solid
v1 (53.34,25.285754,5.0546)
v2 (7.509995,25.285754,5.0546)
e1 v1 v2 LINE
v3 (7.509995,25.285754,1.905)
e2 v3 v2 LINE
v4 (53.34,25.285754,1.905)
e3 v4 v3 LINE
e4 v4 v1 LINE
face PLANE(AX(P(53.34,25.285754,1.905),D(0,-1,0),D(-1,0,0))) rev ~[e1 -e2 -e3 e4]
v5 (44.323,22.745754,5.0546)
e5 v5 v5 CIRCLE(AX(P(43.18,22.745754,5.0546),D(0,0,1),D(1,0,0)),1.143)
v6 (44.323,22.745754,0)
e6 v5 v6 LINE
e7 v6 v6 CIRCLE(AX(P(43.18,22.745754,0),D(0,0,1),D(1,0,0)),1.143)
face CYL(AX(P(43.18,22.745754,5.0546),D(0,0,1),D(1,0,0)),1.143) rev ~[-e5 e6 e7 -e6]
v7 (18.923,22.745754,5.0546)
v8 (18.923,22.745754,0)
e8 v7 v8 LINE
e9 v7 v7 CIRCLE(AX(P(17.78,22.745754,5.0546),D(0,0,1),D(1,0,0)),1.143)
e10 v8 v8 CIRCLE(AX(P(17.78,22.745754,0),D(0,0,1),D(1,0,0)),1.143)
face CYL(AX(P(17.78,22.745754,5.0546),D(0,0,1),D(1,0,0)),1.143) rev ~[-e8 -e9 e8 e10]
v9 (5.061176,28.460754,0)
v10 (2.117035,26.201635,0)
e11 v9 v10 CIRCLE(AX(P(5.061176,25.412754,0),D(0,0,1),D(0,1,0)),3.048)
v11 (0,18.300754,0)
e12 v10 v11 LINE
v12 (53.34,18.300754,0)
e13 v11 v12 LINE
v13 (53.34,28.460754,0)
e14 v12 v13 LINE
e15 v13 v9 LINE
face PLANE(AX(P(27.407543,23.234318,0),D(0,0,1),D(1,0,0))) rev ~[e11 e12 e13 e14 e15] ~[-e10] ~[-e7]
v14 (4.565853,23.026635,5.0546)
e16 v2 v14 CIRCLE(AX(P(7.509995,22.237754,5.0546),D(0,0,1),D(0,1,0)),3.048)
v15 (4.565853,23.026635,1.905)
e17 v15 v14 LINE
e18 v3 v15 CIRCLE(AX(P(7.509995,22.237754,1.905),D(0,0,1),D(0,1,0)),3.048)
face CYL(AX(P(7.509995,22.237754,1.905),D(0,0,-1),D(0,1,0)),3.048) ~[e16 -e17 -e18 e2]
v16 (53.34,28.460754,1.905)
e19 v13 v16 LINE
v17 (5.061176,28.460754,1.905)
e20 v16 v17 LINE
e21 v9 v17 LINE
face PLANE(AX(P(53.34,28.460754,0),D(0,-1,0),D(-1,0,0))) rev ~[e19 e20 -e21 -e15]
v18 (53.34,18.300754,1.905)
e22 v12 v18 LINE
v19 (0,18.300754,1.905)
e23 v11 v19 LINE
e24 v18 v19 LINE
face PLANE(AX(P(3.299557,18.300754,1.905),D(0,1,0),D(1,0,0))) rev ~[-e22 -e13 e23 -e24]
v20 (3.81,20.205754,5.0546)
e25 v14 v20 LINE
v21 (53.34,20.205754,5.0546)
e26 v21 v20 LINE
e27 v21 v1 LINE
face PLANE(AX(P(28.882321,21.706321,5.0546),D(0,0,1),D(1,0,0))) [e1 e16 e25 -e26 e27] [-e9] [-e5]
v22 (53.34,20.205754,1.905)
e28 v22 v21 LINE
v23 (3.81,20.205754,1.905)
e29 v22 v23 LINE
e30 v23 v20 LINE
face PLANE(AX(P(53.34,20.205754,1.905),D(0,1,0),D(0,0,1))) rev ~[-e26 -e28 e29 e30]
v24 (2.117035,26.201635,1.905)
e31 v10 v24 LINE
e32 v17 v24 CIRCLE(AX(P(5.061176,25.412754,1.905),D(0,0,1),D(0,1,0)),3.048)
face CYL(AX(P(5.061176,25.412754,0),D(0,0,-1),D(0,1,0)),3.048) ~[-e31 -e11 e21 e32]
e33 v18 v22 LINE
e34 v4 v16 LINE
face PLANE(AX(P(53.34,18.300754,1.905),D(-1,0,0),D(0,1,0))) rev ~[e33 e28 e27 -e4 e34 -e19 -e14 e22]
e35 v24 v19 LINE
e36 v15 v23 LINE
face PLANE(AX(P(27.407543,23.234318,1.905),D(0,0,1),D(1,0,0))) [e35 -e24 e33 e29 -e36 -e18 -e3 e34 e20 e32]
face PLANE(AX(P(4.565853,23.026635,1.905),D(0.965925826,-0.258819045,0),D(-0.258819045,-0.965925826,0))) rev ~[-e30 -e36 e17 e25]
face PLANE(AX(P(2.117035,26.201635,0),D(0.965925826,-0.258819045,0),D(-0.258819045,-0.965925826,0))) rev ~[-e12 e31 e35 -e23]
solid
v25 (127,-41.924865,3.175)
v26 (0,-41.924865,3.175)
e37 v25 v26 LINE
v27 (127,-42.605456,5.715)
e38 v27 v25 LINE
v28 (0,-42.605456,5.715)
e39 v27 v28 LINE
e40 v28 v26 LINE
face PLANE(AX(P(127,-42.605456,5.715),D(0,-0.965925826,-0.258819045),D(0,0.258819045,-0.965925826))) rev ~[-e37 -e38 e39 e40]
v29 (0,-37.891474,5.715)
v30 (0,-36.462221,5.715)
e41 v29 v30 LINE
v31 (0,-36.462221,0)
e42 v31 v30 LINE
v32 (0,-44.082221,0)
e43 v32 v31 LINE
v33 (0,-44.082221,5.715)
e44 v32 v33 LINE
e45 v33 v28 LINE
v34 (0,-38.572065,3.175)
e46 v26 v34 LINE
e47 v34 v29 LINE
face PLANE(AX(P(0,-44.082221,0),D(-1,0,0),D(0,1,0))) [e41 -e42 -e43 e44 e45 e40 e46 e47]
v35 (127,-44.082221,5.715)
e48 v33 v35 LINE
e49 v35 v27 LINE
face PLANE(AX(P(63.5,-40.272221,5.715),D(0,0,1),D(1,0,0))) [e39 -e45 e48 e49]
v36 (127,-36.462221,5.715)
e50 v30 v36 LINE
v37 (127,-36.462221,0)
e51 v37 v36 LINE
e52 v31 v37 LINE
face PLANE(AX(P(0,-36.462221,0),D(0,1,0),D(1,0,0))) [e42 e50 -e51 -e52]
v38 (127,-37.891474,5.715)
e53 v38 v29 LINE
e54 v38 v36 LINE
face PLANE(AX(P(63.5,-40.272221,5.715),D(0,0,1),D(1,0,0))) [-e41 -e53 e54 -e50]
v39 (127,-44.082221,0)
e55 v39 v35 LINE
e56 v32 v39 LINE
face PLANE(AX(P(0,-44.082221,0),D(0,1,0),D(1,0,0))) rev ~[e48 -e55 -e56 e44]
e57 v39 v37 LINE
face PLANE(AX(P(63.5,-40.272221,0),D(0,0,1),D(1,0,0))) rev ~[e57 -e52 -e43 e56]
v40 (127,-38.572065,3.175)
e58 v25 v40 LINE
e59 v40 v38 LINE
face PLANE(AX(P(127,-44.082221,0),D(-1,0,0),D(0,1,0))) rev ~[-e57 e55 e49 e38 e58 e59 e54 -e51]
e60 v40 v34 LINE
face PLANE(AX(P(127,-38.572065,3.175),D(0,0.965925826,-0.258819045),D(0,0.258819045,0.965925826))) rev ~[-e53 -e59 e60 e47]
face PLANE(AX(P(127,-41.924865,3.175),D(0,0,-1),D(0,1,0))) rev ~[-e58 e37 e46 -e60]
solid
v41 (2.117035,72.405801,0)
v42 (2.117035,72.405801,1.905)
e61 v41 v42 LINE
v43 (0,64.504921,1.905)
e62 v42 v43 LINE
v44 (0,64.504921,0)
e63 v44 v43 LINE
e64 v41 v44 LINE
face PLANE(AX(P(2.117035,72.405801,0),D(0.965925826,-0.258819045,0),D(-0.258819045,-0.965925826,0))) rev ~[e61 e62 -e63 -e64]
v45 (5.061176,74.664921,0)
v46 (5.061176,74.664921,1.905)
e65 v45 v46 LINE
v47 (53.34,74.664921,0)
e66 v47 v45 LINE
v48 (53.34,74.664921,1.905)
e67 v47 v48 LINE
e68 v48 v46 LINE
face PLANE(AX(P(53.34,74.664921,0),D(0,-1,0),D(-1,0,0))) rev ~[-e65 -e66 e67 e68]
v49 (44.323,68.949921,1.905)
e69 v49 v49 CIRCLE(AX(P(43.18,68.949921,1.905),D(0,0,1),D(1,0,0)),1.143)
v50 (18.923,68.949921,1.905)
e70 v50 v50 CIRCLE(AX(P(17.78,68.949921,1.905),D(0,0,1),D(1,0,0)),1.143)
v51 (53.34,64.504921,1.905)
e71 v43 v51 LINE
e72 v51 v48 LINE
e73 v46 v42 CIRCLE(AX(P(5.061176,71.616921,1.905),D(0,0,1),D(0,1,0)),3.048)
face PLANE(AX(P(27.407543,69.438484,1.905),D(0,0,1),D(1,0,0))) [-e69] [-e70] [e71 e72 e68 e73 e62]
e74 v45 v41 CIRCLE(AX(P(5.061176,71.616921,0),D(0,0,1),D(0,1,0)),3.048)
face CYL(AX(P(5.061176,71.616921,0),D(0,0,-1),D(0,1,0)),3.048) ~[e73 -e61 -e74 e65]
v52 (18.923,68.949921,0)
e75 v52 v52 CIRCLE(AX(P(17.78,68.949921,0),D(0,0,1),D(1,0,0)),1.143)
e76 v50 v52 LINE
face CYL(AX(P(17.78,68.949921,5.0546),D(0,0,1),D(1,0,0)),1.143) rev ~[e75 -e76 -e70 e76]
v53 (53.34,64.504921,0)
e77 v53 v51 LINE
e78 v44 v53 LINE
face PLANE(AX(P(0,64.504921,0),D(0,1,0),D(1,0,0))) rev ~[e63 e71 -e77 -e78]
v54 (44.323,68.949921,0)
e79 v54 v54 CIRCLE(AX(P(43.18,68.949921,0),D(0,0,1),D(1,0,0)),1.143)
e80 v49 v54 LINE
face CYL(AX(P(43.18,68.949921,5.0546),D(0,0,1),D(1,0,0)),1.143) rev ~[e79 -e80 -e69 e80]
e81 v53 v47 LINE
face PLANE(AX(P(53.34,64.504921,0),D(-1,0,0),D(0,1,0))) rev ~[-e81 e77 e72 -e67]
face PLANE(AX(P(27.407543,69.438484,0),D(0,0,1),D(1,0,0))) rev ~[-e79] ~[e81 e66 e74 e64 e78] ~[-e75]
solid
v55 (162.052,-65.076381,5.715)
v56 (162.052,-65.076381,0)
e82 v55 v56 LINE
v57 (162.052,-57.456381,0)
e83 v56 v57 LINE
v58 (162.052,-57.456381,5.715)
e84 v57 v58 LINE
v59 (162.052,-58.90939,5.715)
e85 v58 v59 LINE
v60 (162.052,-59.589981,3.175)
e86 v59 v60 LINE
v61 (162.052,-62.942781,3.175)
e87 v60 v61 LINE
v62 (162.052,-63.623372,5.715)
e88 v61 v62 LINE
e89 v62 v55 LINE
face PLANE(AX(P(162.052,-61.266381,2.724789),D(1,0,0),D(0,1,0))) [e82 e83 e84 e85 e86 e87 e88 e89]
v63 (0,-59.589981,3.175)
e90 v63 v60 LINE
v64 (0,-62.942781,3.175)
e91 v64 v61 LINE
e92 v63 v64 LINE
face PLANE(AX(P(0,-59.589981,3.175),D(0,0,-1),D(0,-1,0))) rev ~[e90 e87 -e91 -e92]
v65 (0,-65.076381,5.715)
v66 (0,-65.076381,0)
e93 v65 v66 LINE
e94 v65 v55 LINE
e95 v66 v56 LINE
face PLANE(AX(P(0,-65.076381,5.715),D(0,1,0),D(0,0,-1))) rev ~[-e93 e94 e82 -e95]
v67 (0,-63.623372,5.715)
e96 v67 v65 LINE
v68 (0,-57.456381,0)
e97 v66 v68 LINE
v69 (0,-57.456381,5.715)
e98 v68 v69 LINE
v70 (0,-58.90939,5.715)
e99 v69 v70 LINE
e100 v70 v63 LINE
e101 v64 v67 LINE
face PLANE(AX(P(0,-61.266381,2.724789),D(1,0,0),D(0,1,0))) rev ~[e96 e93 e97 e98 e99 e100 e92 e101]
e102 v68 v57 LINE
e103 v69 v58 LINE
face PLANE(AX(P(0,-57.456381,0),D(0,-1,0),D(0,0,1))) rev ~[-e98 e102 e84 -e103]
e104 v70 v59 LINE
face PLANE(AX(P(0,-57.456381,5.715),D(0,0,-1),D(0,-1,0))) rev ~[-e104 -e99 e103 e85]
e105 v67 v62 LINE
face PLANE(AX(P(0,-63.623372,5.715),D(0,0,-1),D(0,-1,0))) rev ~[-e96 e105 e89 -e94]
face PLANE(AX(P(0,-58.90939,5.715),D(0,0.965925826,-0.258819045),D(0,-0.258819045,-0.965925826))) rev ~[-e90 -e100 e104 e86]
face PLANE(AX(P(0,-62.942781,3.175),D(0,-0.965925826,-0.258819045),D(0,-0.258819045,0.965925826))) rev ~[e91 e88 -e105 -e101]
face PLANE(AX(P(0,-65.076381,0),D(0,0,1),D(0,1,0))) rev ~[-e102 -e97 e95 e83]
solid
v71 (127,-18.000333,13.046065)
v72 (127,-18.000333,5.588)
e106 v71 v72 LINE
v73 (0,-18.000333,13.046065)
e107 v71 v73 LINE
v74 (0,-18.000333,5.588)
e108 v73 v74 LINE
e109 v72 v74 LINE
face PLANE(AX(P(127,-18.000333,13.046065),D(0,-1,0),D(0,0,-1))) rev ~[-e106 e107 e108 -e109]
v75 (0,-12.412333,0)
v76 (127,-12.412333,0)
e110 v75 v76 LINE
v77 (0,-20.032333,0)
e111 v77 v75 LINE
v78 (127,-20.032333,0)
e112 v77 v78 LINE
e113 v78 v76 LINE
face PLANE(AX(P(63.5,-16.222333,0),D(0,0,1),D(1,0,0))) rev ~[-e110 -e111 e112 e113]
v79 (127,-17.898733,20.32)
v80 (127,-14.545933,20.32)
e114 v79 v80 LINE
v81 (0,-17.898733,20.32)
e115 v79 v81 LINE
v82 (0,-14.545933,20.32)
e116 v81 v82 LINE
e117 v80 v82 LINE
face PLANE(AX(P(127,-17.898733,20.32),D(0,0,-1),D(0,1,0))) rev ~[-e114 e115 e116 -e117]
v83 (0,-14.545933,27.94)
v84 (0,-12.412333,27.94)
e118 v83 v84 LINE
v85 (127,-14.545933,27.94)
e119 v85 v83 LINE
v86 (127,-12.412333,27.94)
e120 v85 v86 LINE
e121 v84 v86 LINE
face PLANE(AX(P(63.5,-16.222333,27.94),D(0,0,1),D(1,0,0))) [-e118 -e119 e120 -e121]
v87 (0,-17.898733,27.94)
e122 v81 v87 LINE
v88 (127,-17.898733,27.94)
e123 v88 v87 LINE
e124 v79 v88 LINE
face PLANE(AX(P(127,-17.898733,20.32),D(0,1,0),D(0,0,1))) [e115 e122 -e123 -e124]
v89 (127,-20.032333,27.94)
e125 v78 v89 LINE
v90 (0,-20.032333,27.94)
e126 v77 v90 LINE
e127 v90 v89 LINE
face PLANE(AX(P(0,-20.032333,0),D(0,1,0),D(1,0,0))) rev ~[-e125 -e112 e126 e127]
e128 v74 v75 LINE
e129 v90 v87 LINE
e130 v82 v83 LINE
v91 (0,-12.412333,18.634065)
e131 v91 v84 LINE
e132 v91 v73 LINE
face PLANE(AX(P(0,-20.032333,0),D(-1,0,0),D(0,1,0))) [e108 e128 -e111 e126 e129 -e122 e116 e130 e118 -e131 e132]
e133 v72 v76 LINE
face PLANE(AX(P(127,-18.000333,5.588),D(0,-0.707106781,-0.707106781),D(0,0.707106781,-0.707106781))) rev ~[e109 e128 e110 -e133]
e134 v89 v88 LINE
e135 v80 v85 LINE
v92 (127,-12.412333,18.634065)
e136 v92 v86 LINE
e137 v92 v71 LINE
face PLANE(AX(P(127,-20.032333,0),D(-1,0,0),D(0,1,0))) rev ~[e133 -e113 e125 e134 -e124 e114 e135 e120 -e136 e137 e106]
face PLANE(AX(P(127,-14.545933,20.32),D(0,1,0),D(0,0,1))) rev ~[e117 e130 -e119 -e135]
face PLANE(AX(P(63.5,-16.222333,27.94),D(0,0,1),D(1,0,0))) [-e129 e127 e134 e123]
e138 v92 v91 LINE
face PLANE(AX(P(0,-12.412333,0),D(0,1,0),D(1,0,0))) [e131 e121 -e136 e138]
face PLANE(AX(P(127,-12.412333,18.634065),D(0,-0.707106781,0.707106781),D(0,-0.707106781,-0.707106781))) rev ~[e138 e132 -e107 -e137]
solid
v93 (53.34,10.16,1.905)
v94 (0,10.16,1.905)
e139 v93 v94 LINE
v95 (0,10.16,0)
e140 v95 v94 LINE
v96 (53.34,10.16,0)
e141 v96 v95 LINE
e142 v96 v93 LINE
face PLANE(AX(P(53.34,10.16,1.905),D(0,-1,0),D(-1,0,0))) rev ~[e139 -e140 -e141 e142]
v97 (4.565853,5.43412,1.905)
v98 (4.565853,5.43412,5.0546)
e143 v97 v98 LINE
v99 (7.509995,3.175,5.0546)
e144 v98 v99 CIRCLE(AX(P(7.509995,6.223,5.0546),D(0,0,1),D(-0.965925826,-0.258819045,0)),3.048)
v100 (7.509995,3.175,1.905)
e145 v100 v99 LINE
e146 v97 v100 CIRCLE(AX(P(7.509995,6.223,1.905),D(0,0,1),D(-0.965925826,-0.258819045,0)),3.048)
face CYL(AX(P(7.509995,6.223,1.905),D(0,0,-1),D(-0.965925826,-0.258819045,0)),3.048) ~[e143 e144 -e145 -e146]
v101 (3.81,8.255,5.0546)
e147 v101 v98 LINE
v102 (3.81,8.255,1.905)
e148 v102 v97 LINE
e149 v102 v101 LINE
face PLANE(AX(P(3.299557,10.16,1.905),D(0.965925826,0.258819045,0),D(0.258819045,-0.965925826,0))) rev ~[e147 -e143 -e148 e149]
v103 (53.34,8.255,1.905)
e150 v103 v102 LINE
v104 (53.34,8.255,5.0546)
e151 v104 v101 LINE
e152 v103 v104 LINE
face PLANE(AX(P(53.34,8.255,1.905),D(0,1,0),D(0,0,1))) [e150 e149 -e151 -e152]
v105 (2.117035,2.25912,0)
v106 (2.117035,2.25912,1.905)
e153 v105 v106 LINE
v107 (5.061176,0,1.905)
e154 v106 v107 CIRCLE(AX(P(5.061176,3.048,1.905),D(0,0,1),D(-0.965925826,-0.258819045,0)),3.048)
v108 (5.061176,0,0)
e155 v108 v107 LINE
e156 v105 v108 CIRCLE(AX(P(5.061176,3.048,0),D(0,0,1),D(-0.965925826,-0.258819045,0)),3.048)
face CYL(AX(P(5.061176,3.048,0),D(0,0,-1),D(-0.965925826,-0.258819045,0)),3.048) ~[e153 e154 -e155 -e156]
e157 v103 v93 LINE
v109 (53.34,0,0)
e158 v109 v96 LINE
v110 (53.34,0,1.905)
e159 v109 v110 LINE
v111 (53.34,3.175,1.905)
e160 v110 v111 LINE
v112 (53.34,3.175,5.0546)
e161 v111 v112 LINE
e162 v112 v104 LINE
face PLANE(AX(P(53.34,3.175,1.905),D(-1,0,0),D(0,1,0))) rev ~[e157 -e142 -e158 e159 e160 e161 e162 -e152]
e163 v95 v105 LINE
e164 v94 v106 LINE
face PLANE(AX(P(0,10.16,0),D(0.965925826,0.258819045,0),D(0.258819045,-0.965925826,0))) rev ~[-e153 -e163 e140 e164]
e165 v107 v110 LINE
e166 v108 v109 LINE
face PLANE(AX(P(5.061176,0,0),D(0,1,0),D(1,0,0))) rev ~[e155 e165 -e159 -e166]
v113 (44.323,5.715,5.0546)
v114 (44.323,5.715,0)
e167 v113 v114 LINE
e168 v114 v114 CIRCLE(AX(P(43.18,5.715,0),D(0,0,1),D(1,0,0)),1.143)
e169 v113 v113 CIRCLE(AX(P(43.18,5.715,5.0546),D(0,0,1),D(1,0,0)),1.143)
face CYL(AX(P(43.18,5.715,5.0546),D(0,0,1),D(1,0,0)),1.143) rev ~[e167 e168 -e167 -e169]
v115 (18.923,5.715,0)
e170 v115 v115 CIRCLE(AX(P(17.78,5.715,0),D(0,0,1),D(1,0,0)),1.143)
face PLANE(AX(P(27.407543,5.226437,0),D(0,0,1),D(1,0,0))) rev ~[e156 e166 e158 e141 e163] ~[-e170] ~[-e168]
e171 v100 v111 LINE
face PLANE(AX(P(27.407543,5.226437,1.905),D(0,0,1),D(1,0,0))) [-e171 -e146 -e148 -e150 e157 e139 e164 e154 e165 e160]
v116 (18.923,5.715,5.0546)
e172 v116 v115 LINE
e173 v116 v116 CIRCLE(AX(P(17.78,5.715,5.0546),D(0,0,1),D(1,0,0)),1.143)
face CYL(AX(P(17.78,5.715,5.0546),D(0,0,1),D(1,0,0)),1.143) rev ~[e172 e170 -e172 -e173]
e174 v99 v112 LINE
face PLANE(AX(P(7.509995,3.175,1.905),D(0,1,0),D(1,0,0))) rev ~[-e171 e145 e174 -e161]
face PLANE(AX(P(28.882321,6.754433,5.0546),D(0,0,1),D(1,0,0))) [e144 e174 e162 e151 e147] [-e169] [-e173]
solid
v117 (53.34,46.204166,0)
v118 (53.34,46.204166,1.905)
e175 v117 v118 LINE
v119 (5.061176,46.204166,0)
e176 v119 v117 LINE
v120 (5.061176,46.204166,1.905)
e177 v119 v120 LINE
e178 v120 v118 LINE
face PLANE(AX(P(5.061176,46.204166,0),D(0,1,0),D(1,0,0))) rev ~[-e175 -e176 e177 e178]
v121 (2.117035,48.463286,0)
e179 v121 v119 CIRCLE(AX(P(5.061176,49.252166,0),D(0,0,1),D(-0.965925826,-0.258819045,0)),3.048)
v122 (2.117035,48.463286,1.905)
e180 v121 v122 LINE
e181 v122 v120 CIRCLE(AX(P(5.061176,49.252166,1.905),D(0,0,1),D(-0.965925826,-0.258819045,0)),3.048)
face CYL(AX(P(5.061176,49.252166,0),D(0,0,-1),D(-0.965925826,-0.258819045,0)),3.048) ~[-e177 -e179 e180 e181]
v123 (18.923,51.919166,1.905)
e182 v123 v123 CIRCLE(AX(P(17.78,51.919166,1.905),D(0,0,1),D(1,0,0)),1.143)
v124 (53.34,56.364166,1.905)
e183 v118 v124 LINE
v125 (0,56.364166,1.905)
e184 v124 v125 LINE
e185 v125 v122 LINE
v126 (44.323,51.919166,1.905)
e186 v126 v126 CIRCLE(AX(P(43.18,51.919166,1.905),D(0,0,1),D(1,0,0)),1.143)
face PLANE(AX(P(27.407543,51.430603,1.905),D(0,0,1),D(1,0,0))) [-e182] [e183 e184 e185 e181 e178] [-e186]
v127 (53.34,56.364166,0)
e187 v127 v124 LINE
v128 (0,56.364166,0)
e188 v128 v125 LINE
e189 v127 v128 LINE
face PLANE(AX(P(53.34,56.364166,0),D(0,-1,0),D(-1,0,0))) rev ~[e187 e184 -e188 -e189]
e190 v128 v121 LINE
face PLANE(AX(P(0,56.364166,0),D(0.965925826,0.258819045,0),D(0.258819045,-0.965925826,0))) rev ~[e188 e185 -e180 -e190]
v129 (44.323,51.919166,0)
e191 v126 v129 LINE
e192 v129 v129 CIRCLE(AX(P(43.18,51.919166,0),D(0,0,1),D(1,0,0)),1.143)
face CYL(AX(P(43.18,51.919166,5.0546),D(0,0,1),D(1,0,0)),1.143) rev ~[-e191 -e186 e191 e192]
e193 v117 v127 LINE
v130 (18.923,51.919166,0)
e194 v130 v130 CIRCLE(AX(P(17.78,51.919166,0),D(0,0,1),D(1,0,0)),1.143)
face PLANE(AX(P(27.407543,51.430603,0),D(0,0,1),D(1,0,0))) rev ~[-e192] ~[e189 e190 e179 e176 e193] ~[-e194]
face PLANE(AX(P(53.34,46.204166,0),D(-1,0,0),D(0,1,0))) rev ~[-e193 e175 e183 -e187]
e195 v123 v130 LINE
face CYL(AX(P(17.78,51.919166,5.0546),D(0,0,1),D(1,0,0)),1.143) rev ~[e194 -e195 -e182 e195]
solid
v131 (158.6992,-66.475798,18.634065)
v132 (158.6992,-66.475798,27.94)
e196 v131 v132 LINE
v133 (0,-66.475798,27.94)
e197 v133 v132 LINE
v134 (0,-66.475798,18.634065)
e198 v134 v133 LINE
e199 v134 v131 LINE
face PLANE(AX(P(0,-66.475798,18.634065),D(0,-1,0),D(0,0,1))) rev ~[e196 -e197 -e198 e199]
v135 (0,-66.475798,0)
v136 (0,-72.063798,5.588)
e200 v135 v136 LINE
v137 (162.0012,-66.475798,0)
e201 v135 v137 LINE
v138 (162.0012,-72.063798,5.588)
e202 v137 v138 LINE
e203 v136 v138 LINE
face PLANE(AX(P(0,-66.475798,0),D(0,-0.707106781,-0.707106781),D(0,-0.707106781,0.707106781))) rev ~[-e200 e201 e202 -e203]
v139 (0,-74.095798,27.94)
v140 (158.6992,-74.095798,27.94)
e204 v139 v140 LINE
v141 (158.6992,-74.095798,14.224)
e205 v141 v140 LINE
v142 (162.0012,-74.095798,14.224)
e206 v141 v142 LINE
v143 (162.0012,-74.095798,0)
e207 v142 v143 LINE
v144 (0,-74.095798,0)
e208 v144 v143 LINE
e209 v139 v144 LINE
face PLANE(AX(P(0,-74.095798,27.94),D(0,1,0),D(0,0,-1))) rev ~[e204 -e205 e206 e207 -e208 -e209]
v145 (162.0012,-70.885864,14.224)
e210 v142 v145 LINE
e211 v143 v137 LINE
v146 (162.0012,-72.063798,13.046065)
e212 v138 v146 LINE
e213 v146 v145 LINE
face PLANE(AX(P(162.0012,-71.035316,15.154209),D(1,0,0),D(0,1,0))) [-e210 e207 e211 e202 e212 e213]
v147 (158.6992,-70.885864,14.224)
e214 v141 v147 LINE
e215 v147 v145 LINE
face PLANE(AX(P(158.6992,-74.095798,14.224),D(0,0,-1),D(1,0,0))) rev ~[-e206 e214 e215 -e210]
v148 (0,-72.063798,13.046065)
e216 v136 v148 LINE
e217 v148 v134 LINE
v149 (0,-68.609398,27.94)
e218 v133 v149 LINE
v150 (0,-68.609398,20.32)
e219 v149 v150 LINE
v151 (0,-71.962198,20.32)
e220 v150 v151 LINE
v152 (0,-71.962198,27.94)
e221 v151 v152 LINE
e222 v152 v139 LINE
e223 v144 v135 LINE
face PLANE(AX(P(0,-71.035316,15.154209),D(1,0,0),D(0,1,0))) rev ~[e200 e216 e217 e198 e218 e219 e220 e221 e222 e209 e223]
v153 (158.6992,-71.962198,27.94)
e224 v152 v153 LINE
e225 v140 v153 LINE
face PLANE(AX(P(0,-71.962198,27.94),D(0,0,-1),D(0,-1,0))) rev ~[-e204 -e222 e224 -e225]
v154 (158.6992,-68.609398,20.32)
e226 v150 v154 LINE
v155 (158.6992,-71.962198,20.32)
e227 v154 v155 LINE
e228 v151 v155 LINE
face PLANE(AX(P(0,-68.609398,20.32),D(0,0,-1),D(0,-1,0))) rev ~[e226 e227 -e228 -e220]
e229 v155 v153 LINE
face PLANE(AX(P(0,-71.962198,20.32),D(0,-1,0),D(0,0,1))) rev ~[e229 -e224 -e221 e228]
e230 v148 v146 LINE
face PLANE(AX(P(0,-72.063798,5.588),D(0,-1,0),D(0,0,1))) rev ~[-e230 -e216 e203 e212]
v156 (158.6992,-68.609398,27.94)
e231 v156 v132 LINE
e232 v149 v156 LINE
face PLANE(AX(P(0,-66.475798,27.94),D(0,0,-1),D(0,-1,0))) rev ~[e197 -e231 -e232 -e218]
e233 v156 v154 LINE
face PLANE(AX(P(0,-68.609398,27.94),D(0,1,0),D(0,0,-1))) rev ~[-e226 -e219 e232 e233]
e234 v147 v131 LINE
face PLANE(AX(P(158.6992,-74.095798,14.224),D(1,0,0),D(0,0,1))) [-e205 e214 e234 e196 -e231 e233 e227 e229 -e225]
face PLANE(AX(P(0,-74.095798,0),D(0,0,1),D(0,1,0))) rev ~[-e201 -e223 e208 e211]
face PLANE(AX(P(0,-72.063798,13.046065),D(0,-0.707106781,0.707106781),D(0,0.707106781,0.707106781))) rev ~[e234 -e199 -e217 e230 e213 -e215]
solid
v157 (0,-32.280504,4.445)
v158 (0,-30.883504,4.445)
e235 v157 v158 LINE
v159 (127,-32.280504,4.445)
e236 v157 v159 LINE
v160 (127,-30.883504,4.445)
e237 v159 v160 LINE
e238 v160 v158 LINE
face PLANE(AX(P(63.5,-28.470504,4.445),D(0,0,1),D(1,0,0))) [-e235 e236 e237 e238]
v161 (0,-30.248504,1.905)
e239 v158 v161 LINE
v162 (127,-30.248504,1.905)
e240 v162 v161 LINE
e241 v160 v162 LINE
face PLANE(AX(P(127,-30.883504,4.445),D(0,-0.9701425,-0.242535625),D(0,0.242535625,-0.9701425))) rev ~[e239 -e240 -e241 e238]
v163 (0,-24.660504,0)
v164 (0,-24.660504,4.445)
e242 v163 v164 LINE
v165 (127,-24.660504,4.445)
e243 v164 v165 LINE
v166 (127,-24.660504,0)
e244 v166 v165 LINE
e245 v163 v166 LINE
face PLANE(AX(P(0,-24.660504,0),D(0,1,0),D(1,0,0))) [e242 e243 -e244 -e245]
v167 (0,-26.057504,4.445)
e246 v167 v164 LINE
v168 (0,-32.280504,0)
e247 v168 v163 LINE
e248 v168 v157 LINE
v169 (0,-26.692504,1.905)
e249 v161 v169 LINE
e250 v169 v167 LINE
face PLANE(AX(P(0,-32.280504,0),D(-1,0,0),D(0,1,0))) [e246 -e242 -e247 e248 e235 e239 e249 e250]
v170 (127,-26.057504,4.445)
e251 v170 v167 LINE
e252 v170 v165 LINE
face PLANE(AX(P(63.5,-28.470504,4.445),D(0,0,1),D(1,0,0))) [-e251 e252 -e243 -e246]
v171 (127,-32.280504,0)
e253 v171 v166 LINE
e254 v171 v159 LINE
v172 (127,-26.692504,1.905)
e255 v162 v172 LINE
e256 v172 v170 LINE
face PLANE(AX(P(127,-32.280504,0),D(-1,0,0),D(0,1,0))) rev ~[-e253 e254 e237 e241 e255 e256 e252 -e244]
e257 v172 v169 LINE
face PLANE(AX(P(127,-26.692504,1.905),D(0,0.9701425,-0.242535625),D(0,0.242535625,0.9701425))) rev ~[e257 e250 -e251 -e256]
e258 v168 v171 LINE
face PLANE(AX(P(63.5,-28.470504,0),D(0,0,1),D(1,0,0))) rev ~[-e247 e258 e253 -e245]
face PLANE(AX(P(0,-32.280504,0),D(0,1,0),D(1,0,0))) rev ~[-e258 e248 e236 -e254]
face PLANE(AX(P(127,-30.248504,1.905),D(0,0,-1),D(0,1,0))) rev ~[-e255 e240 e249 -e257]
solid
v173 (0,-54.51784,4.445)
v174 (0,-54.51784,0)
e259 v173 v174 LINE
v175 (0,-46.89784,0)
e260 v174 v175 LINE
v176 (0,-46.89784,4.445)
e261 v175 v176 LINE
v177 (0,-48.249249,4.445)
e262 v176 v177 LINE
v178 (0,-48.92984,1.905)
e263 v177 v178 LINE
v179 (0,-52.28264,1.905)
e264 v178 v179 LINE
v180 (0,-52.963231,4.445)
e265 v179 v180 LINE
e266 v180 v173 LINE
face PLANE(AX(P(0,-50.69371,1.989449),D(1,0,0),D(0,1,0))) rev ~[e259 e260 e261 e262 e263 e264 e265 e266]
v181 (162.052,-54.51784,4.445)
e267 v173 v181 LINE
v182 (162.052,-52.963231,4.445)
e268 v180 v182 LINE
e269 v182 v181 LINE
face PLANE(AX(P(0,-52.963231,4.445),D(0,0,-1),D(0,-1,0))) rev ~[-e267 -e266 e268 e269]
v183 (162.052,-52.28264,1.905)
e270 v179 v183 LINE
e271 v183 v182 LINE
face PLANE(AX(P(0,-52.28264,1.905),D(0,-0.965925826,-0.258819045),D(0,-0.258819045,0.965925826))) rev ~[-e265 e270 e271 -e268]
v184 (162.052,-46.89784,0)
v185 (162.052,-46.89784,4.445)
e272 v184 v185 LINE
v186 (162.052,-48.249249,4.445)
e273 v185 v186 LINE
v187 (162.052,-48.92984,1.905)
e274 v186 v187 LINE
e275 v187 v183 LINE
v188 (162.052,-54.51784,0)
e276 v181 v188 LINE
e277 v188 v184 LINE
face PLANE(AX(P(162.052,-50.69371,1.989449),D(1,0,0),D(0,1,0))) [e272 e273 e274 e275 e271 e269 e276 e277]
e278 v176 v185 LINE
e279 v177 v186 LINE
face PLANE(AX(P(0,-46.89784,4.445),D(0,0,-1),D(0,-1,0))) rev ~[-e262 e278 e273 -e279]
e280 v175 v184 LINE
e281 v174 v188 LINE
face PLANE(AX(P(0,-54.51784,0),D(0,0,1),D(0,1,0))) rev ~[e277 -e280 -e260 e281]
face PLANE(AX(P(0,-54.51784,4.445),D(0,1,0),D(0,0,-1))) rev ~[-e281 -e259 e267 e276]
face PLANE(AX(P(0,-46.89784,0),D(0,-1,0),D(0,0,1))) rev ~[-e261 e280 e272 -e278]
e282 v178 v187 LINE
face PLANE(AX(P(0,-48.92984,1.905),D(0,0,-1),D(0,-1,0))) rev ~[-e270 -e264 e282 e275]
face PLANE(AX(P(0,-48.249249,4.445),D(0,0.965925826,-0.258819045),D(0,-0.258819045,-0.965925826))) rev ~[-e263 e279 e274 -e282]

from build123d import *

# Parameters (mm, degrees)
F1_DEPTH  = 1.905
F3_DEPTH  = 3.1496
F4_W      = 1.905
F4_H      = 3.1496
F5_DEPTH  = 50.0414432116
F6_R      = 1.143
F7_DEPTH  = 5.0556
F8_W      = 127
F8_H      = 7.62
F9_DEPTH  = 27.94
F10_W     = 3.3528
F10_H     = 7.62
F11_DEPTH = 127
F12_W     = 127
F12_H     = 7.62
F13_DEPTH = 4.445
F15_DEPTH = 127
F16_W     = 127
F16_H     = 7.62
F17_DEPTH = 5.715
F19_DEPTH = 127
F21_DEPTH = 162.0012
F22_W     = 3.302
F22_H     = 13.716
F23_DEPTH = 7.62
F25_DEPTH = 162.052


with BuildPart() as f1:
    # F0 (on Top) → F1 (new body)
    with BuildSketch(Plane.XY):
        with BuildLine():
            ThreePointArc((2.1170345359, 2.2591195505), (3.2056716188, 0.6298590188), (5.0611764545, 0))
            Line((5.0611764545, 0), (53.34, 0))
            Line((53.34, 0), (53.34, 10.16))
            Line((53.34, 10.16), (0, 10.16))
            Line((0, 10.16), (2.1170345359, 2.2591195505))
        make_face()
    extrude(amount=F1_DEPTH)

    # F2 (on face) → F3 (join)
    with BuildSketch(Plane.XY.offset(1.905)):
        with BuildLine():
            Line((53.34, 3.175), (53.34, 10.16))
            Line((53.34, 10.16), (3.2995567884, 10.16))
            Line((3.2995567884, 10.16), (4.5658526384, 5.4341195505))
            ThreePointArc((4.5658526384, 5.4341195505), (5.6544897213, 3.8048590188), (7.5099945569, 3.175))
            Line((7.5099945569, 3.175), (53.34, 3.175))
        make_face()
    extrude(amount=F3_DEPTH)


with BuildPart() as f1b:
    # F0 (on Top) → F1, piece 2 (new body)
    with BuildSketch(Plane.XY):
        with BuildLine():
            Line((2.1170345359, 26.2016345311), (0, 18.3007540816))
            Line((0, 18.3007540816), (53.34, 18.3007540816))
            Line((53.34, 18.3007540816), (53.34, 28.4607540816))
            Line((53.34, 28.4607540816), (5.0611764545, 28.4607540816))
            ThreePointArc((5.0611764545, 28.4607540816), (3.2056716188, 27.8308950628), (2.1170345359, 26.2016345311))
        make_face()
    extrude(amount=F1_DEPTH)

    # F2 (on face) → F3, piece 2 (join)
    with BuildSketch(Plane.XY.offset(1.905)):
        with BuildLine():
            Line((3.2995567884, 18.3007540816), (53.34, 18.3007540816))
            Line((53.34, 18.3007540816), (53.34, 25.2857540816))
            Line((53.34, 25.2857540816), (7.5099945569, 25.2857540816))
            ThreePointArc((7.5099945569, 25.2857540816), (5.6544897213, 24.6558950628), (4.5658526384, 23.0266345311))
            Line((4.5658526384, 23.0266345311), (3.2995567884, 18.3007540816))
        make_face()
    extrude(amount=F3_DEPTH)


with BuildPart() as f1c:
    # F0 (on Top) → F1, piece 3 (new body)
    with BuildSketch(Plane.XY):
        with BuildLine():
            ThreePointArc((2.1170345359, 48.4632860374), (3.2056716188, 46.8340255057), (5.0611764545, 46.2041664869))
            Line((5.0611764545, 46.2041664869), (53.34, 46.2041664869))
            Line((53.34, 46.2041664869), (53.34, 56.3641664869))
            Line((53.34, 56.3641664869), (0, 56.3641664869))
            Line((0, 56.3641664869), (2.1170345359, 48.4632860374))
        make_face()
    extrude(amount=F1_DEPTH)


with BuildPart() as f1d:
    # F0 (on Top) → F1, piece 4 (new body)
    with BuildSketch(Plane.XY):
        with BuildLine():
            Line((2.1170345359, 72.4058010179), (0, 64.5049205685))
            Line((0, 64.5049205685), (53.34, 64.5049205685))
            Line((53.34, 64.5049205685), (53.34, 74.6649205685))
            Line((53.34, 74.6649205685), (5.0611764545, 74.6649205685))
            ThreePointArc((5.0611764545, 74.6649205685), (3.2056716188, 74.0350615497), (2.1170345359, 72.4058010179))
        make_face()
    extrude(amount=F1_DEPTH)


with BuildPart() as f5_tool:
    # F4 (on face) → F5 (new body, through all)
    with BuildSketch(Plane.YZ.offset(53.34)):
        with Locations((9.2075, 3.4798)):
            Rectangle(F4_W, F4_H)
        with Locations((19.2532540816, 3.4798)):
            Rectangle(F4_W, F4_H)
    extrude(amount=-F5_DEPTH)


with BuildPart() as f1_1:
    add(f1.part)

    # F5: cut by f5_tool
    add(f5_tool.part, mode=Mode.SUBTRACT)


with BuildPart() as f1b_1:
    add(f1b.part)

    # F5: cut by f5_tool
    add(f5_tool.part, mode=Mode.SUBTRACT)


with BuildPart() as f7_tool:
    # F6 (on face) → F7 (new body, through all)
    with BuildSketch(Plane.XY.offset(5.0546)):
        with Locations((17.78, 5.715)):
            Circle(F6_R)
        with Locations((43.18, 5.715)):
            Circle(F6_R)
        with Locations((17.78, 22.7457540816)):
            Circle(F6_R)
        with Locations((43.18, 22.7457540816)):
            Circle(F6_R)
        with Locations((17.78, 51.9191664869)):
            Circle(F6_R)
        with Locations((43.18, 51.9191664869)):
            Circle(F6_R)
        with Locations((43.18, 68.9499205685)):
            Circle(F6_R)
        with Locations((17.78, 68.9499205685)):
            Circle(F6_R)
    extrude(amount=-F7_DEPTH)


with BuildPart() as f1_2:
    add(f1_1.part)

    # F7: cut by f7_tool
    add(f7_tool.part, mode=Mode.SUBTRACT)


with BuildPart() as f1b_2:
    add(f1b_1.part)

    # F7: cut by f7_tool
    add(f7_tool.part, mode=Mode.SUBTRACT)


with BuildPart() as f1c_1:
    add(f1c.part)

    # F7: cut by f7_tool
    add(f7_tool.part, mode=Mode.SUBTRACT)


with BuildPart() as f1d_1:
    add(f1d.part)

    # F7: cut by f7_tool
    add(f7_tool.part, mode=Mode.SUBTRACT)


with BuildPart() as f9:
    # F8 (on Top) → F9 (new body)
    with BuildSketch(Plane.XY):
        with Locations((63.5, -16.2223329405)):
            Rectangle(F8_W, F8_H)
    extrude(amount=F9_DEPTH)

    # F10 (on face) → F11 (cut, through all)
    with BuildSketch(Plane.YZ.offset(127)):
        with Locations((-16.2223329405, 24.13)):
            Rectangle(F10_W, F10_H)
        Polygon((-12.4123329405, 0), (-12.4123329405, 18.6340653542), (-18.0003329405, 13.0460653542), (-18.0003329405, 5.588), align=None)
    extrude(amount=-F11_DEPTH, mode=Mode.SUBTRACT)


with BuildPart() as f13:
    # F12 (on Top) → F13 (new body)
    with BuildSketch(Plane.XY):
        with Locations((63.5, -28.4705040316)):
            Rectangle(F12_W, F12_H)
    extrude(amount=F13_DEPTH)

    # F14 (on face) → F15 (cut, through all)
    with BuildSketch(Plane.YZ.offset(127)):
        Polygon((-26.0575040316, 4.445), (-30.8835040316, 4.445), (-30.2485040316, 1.905), (-26.6925040316, 1.905), align=None)
    extrude(amount=-F15_DEPTH, mode=Mode.SUBTRACT)


with BuildPart() as f17:
    # F16 (on Top) → F17 (new body)
    with BuildSketch(Plane.XY):
        with Locations((63.5, -40.2722206438)):
            Rectangle(F16_W, F16_H)
    extrude(amount=F17_DEPTH)

    # F18 (on face) → F19 (cut, through all)
    with BuildSketch(Plane.YZ.offset(127)):
        Polygon((-37.8914739333, 5.715), (-42.6054558309, 5.715), (-41.9248648821, 3.175), (-38.5720648821, 3.175), align=None)
    extrude(amount=-F19_DEPTH, mode=Mode.SUBTRACT)


with BuildPart() as f21:
    # F20 (on Right) → F21 (new body)
    with BuildSketch(Plane.YZ):
        Polygon((-66.47579819, 18.6340653542), (-66.47579819, 27.94), (-68.60939819, 27.94), (-68.60939819, 20.32), (-71.96219819, 20.32), (-71.96219819, 27.94), (-74.09579819, 27.94), (-74.09579819, 0), (-66.47579819, 0), (-72.06379819, 5.588), (-72.06379819, 13.0460653542), align=None)
    extrude(amount=F21_DEPTH)

    # F22 (on face) → F23 (cut)
    with BuildSketch(Plane.XZ.offset(74.09579819)):
        with Locations((160.3502, 21.082)):
            Rectangle(F22_W, F22_H)
    extrude(amount=-F23_DEPTH, mode=Mode.SUBTRACT)


with BuildPart() as f25:
    # F24 (on Right) → F25 (new body)
    with BuildSketch(Plane.YZ):
        Polygon((-54.5178402128, 0), (-46.8978402128, 0), (-46.8978402128, 4.445), (-48.249249264, 4.445), (-48.9298402128, 1.905), (-52.2826402128, 1.905), (-52.9632311615, 4.445), (-54.5178402128, 4.445), align=None)
    extrude(amount=F25_DEPTH)


with BuildPart() as f25b:
    # F24 (on Right) → F25, piece 2 (new body)
    with BuildSketch(Plane.YZ):
        Polygon((-65.0763807163, 0), (-57.4563807163, 0), (-57.4563807163, 5.715), (-58.9093897676, 5.715), (-59.5899807163, 3.175), (-62.9427807163, 3.175), (-63.6233716651, 5.715), (-65.0763807163, 5.715), align=None)
    extrude(amount=F25_DEPTH)


solid = Compound([f1_2.part, f1b_2.part, f1c_1.part, f1d_1.part, f9.part, f13.part, f17.part, f21.part, f25.part, f25b.part])
